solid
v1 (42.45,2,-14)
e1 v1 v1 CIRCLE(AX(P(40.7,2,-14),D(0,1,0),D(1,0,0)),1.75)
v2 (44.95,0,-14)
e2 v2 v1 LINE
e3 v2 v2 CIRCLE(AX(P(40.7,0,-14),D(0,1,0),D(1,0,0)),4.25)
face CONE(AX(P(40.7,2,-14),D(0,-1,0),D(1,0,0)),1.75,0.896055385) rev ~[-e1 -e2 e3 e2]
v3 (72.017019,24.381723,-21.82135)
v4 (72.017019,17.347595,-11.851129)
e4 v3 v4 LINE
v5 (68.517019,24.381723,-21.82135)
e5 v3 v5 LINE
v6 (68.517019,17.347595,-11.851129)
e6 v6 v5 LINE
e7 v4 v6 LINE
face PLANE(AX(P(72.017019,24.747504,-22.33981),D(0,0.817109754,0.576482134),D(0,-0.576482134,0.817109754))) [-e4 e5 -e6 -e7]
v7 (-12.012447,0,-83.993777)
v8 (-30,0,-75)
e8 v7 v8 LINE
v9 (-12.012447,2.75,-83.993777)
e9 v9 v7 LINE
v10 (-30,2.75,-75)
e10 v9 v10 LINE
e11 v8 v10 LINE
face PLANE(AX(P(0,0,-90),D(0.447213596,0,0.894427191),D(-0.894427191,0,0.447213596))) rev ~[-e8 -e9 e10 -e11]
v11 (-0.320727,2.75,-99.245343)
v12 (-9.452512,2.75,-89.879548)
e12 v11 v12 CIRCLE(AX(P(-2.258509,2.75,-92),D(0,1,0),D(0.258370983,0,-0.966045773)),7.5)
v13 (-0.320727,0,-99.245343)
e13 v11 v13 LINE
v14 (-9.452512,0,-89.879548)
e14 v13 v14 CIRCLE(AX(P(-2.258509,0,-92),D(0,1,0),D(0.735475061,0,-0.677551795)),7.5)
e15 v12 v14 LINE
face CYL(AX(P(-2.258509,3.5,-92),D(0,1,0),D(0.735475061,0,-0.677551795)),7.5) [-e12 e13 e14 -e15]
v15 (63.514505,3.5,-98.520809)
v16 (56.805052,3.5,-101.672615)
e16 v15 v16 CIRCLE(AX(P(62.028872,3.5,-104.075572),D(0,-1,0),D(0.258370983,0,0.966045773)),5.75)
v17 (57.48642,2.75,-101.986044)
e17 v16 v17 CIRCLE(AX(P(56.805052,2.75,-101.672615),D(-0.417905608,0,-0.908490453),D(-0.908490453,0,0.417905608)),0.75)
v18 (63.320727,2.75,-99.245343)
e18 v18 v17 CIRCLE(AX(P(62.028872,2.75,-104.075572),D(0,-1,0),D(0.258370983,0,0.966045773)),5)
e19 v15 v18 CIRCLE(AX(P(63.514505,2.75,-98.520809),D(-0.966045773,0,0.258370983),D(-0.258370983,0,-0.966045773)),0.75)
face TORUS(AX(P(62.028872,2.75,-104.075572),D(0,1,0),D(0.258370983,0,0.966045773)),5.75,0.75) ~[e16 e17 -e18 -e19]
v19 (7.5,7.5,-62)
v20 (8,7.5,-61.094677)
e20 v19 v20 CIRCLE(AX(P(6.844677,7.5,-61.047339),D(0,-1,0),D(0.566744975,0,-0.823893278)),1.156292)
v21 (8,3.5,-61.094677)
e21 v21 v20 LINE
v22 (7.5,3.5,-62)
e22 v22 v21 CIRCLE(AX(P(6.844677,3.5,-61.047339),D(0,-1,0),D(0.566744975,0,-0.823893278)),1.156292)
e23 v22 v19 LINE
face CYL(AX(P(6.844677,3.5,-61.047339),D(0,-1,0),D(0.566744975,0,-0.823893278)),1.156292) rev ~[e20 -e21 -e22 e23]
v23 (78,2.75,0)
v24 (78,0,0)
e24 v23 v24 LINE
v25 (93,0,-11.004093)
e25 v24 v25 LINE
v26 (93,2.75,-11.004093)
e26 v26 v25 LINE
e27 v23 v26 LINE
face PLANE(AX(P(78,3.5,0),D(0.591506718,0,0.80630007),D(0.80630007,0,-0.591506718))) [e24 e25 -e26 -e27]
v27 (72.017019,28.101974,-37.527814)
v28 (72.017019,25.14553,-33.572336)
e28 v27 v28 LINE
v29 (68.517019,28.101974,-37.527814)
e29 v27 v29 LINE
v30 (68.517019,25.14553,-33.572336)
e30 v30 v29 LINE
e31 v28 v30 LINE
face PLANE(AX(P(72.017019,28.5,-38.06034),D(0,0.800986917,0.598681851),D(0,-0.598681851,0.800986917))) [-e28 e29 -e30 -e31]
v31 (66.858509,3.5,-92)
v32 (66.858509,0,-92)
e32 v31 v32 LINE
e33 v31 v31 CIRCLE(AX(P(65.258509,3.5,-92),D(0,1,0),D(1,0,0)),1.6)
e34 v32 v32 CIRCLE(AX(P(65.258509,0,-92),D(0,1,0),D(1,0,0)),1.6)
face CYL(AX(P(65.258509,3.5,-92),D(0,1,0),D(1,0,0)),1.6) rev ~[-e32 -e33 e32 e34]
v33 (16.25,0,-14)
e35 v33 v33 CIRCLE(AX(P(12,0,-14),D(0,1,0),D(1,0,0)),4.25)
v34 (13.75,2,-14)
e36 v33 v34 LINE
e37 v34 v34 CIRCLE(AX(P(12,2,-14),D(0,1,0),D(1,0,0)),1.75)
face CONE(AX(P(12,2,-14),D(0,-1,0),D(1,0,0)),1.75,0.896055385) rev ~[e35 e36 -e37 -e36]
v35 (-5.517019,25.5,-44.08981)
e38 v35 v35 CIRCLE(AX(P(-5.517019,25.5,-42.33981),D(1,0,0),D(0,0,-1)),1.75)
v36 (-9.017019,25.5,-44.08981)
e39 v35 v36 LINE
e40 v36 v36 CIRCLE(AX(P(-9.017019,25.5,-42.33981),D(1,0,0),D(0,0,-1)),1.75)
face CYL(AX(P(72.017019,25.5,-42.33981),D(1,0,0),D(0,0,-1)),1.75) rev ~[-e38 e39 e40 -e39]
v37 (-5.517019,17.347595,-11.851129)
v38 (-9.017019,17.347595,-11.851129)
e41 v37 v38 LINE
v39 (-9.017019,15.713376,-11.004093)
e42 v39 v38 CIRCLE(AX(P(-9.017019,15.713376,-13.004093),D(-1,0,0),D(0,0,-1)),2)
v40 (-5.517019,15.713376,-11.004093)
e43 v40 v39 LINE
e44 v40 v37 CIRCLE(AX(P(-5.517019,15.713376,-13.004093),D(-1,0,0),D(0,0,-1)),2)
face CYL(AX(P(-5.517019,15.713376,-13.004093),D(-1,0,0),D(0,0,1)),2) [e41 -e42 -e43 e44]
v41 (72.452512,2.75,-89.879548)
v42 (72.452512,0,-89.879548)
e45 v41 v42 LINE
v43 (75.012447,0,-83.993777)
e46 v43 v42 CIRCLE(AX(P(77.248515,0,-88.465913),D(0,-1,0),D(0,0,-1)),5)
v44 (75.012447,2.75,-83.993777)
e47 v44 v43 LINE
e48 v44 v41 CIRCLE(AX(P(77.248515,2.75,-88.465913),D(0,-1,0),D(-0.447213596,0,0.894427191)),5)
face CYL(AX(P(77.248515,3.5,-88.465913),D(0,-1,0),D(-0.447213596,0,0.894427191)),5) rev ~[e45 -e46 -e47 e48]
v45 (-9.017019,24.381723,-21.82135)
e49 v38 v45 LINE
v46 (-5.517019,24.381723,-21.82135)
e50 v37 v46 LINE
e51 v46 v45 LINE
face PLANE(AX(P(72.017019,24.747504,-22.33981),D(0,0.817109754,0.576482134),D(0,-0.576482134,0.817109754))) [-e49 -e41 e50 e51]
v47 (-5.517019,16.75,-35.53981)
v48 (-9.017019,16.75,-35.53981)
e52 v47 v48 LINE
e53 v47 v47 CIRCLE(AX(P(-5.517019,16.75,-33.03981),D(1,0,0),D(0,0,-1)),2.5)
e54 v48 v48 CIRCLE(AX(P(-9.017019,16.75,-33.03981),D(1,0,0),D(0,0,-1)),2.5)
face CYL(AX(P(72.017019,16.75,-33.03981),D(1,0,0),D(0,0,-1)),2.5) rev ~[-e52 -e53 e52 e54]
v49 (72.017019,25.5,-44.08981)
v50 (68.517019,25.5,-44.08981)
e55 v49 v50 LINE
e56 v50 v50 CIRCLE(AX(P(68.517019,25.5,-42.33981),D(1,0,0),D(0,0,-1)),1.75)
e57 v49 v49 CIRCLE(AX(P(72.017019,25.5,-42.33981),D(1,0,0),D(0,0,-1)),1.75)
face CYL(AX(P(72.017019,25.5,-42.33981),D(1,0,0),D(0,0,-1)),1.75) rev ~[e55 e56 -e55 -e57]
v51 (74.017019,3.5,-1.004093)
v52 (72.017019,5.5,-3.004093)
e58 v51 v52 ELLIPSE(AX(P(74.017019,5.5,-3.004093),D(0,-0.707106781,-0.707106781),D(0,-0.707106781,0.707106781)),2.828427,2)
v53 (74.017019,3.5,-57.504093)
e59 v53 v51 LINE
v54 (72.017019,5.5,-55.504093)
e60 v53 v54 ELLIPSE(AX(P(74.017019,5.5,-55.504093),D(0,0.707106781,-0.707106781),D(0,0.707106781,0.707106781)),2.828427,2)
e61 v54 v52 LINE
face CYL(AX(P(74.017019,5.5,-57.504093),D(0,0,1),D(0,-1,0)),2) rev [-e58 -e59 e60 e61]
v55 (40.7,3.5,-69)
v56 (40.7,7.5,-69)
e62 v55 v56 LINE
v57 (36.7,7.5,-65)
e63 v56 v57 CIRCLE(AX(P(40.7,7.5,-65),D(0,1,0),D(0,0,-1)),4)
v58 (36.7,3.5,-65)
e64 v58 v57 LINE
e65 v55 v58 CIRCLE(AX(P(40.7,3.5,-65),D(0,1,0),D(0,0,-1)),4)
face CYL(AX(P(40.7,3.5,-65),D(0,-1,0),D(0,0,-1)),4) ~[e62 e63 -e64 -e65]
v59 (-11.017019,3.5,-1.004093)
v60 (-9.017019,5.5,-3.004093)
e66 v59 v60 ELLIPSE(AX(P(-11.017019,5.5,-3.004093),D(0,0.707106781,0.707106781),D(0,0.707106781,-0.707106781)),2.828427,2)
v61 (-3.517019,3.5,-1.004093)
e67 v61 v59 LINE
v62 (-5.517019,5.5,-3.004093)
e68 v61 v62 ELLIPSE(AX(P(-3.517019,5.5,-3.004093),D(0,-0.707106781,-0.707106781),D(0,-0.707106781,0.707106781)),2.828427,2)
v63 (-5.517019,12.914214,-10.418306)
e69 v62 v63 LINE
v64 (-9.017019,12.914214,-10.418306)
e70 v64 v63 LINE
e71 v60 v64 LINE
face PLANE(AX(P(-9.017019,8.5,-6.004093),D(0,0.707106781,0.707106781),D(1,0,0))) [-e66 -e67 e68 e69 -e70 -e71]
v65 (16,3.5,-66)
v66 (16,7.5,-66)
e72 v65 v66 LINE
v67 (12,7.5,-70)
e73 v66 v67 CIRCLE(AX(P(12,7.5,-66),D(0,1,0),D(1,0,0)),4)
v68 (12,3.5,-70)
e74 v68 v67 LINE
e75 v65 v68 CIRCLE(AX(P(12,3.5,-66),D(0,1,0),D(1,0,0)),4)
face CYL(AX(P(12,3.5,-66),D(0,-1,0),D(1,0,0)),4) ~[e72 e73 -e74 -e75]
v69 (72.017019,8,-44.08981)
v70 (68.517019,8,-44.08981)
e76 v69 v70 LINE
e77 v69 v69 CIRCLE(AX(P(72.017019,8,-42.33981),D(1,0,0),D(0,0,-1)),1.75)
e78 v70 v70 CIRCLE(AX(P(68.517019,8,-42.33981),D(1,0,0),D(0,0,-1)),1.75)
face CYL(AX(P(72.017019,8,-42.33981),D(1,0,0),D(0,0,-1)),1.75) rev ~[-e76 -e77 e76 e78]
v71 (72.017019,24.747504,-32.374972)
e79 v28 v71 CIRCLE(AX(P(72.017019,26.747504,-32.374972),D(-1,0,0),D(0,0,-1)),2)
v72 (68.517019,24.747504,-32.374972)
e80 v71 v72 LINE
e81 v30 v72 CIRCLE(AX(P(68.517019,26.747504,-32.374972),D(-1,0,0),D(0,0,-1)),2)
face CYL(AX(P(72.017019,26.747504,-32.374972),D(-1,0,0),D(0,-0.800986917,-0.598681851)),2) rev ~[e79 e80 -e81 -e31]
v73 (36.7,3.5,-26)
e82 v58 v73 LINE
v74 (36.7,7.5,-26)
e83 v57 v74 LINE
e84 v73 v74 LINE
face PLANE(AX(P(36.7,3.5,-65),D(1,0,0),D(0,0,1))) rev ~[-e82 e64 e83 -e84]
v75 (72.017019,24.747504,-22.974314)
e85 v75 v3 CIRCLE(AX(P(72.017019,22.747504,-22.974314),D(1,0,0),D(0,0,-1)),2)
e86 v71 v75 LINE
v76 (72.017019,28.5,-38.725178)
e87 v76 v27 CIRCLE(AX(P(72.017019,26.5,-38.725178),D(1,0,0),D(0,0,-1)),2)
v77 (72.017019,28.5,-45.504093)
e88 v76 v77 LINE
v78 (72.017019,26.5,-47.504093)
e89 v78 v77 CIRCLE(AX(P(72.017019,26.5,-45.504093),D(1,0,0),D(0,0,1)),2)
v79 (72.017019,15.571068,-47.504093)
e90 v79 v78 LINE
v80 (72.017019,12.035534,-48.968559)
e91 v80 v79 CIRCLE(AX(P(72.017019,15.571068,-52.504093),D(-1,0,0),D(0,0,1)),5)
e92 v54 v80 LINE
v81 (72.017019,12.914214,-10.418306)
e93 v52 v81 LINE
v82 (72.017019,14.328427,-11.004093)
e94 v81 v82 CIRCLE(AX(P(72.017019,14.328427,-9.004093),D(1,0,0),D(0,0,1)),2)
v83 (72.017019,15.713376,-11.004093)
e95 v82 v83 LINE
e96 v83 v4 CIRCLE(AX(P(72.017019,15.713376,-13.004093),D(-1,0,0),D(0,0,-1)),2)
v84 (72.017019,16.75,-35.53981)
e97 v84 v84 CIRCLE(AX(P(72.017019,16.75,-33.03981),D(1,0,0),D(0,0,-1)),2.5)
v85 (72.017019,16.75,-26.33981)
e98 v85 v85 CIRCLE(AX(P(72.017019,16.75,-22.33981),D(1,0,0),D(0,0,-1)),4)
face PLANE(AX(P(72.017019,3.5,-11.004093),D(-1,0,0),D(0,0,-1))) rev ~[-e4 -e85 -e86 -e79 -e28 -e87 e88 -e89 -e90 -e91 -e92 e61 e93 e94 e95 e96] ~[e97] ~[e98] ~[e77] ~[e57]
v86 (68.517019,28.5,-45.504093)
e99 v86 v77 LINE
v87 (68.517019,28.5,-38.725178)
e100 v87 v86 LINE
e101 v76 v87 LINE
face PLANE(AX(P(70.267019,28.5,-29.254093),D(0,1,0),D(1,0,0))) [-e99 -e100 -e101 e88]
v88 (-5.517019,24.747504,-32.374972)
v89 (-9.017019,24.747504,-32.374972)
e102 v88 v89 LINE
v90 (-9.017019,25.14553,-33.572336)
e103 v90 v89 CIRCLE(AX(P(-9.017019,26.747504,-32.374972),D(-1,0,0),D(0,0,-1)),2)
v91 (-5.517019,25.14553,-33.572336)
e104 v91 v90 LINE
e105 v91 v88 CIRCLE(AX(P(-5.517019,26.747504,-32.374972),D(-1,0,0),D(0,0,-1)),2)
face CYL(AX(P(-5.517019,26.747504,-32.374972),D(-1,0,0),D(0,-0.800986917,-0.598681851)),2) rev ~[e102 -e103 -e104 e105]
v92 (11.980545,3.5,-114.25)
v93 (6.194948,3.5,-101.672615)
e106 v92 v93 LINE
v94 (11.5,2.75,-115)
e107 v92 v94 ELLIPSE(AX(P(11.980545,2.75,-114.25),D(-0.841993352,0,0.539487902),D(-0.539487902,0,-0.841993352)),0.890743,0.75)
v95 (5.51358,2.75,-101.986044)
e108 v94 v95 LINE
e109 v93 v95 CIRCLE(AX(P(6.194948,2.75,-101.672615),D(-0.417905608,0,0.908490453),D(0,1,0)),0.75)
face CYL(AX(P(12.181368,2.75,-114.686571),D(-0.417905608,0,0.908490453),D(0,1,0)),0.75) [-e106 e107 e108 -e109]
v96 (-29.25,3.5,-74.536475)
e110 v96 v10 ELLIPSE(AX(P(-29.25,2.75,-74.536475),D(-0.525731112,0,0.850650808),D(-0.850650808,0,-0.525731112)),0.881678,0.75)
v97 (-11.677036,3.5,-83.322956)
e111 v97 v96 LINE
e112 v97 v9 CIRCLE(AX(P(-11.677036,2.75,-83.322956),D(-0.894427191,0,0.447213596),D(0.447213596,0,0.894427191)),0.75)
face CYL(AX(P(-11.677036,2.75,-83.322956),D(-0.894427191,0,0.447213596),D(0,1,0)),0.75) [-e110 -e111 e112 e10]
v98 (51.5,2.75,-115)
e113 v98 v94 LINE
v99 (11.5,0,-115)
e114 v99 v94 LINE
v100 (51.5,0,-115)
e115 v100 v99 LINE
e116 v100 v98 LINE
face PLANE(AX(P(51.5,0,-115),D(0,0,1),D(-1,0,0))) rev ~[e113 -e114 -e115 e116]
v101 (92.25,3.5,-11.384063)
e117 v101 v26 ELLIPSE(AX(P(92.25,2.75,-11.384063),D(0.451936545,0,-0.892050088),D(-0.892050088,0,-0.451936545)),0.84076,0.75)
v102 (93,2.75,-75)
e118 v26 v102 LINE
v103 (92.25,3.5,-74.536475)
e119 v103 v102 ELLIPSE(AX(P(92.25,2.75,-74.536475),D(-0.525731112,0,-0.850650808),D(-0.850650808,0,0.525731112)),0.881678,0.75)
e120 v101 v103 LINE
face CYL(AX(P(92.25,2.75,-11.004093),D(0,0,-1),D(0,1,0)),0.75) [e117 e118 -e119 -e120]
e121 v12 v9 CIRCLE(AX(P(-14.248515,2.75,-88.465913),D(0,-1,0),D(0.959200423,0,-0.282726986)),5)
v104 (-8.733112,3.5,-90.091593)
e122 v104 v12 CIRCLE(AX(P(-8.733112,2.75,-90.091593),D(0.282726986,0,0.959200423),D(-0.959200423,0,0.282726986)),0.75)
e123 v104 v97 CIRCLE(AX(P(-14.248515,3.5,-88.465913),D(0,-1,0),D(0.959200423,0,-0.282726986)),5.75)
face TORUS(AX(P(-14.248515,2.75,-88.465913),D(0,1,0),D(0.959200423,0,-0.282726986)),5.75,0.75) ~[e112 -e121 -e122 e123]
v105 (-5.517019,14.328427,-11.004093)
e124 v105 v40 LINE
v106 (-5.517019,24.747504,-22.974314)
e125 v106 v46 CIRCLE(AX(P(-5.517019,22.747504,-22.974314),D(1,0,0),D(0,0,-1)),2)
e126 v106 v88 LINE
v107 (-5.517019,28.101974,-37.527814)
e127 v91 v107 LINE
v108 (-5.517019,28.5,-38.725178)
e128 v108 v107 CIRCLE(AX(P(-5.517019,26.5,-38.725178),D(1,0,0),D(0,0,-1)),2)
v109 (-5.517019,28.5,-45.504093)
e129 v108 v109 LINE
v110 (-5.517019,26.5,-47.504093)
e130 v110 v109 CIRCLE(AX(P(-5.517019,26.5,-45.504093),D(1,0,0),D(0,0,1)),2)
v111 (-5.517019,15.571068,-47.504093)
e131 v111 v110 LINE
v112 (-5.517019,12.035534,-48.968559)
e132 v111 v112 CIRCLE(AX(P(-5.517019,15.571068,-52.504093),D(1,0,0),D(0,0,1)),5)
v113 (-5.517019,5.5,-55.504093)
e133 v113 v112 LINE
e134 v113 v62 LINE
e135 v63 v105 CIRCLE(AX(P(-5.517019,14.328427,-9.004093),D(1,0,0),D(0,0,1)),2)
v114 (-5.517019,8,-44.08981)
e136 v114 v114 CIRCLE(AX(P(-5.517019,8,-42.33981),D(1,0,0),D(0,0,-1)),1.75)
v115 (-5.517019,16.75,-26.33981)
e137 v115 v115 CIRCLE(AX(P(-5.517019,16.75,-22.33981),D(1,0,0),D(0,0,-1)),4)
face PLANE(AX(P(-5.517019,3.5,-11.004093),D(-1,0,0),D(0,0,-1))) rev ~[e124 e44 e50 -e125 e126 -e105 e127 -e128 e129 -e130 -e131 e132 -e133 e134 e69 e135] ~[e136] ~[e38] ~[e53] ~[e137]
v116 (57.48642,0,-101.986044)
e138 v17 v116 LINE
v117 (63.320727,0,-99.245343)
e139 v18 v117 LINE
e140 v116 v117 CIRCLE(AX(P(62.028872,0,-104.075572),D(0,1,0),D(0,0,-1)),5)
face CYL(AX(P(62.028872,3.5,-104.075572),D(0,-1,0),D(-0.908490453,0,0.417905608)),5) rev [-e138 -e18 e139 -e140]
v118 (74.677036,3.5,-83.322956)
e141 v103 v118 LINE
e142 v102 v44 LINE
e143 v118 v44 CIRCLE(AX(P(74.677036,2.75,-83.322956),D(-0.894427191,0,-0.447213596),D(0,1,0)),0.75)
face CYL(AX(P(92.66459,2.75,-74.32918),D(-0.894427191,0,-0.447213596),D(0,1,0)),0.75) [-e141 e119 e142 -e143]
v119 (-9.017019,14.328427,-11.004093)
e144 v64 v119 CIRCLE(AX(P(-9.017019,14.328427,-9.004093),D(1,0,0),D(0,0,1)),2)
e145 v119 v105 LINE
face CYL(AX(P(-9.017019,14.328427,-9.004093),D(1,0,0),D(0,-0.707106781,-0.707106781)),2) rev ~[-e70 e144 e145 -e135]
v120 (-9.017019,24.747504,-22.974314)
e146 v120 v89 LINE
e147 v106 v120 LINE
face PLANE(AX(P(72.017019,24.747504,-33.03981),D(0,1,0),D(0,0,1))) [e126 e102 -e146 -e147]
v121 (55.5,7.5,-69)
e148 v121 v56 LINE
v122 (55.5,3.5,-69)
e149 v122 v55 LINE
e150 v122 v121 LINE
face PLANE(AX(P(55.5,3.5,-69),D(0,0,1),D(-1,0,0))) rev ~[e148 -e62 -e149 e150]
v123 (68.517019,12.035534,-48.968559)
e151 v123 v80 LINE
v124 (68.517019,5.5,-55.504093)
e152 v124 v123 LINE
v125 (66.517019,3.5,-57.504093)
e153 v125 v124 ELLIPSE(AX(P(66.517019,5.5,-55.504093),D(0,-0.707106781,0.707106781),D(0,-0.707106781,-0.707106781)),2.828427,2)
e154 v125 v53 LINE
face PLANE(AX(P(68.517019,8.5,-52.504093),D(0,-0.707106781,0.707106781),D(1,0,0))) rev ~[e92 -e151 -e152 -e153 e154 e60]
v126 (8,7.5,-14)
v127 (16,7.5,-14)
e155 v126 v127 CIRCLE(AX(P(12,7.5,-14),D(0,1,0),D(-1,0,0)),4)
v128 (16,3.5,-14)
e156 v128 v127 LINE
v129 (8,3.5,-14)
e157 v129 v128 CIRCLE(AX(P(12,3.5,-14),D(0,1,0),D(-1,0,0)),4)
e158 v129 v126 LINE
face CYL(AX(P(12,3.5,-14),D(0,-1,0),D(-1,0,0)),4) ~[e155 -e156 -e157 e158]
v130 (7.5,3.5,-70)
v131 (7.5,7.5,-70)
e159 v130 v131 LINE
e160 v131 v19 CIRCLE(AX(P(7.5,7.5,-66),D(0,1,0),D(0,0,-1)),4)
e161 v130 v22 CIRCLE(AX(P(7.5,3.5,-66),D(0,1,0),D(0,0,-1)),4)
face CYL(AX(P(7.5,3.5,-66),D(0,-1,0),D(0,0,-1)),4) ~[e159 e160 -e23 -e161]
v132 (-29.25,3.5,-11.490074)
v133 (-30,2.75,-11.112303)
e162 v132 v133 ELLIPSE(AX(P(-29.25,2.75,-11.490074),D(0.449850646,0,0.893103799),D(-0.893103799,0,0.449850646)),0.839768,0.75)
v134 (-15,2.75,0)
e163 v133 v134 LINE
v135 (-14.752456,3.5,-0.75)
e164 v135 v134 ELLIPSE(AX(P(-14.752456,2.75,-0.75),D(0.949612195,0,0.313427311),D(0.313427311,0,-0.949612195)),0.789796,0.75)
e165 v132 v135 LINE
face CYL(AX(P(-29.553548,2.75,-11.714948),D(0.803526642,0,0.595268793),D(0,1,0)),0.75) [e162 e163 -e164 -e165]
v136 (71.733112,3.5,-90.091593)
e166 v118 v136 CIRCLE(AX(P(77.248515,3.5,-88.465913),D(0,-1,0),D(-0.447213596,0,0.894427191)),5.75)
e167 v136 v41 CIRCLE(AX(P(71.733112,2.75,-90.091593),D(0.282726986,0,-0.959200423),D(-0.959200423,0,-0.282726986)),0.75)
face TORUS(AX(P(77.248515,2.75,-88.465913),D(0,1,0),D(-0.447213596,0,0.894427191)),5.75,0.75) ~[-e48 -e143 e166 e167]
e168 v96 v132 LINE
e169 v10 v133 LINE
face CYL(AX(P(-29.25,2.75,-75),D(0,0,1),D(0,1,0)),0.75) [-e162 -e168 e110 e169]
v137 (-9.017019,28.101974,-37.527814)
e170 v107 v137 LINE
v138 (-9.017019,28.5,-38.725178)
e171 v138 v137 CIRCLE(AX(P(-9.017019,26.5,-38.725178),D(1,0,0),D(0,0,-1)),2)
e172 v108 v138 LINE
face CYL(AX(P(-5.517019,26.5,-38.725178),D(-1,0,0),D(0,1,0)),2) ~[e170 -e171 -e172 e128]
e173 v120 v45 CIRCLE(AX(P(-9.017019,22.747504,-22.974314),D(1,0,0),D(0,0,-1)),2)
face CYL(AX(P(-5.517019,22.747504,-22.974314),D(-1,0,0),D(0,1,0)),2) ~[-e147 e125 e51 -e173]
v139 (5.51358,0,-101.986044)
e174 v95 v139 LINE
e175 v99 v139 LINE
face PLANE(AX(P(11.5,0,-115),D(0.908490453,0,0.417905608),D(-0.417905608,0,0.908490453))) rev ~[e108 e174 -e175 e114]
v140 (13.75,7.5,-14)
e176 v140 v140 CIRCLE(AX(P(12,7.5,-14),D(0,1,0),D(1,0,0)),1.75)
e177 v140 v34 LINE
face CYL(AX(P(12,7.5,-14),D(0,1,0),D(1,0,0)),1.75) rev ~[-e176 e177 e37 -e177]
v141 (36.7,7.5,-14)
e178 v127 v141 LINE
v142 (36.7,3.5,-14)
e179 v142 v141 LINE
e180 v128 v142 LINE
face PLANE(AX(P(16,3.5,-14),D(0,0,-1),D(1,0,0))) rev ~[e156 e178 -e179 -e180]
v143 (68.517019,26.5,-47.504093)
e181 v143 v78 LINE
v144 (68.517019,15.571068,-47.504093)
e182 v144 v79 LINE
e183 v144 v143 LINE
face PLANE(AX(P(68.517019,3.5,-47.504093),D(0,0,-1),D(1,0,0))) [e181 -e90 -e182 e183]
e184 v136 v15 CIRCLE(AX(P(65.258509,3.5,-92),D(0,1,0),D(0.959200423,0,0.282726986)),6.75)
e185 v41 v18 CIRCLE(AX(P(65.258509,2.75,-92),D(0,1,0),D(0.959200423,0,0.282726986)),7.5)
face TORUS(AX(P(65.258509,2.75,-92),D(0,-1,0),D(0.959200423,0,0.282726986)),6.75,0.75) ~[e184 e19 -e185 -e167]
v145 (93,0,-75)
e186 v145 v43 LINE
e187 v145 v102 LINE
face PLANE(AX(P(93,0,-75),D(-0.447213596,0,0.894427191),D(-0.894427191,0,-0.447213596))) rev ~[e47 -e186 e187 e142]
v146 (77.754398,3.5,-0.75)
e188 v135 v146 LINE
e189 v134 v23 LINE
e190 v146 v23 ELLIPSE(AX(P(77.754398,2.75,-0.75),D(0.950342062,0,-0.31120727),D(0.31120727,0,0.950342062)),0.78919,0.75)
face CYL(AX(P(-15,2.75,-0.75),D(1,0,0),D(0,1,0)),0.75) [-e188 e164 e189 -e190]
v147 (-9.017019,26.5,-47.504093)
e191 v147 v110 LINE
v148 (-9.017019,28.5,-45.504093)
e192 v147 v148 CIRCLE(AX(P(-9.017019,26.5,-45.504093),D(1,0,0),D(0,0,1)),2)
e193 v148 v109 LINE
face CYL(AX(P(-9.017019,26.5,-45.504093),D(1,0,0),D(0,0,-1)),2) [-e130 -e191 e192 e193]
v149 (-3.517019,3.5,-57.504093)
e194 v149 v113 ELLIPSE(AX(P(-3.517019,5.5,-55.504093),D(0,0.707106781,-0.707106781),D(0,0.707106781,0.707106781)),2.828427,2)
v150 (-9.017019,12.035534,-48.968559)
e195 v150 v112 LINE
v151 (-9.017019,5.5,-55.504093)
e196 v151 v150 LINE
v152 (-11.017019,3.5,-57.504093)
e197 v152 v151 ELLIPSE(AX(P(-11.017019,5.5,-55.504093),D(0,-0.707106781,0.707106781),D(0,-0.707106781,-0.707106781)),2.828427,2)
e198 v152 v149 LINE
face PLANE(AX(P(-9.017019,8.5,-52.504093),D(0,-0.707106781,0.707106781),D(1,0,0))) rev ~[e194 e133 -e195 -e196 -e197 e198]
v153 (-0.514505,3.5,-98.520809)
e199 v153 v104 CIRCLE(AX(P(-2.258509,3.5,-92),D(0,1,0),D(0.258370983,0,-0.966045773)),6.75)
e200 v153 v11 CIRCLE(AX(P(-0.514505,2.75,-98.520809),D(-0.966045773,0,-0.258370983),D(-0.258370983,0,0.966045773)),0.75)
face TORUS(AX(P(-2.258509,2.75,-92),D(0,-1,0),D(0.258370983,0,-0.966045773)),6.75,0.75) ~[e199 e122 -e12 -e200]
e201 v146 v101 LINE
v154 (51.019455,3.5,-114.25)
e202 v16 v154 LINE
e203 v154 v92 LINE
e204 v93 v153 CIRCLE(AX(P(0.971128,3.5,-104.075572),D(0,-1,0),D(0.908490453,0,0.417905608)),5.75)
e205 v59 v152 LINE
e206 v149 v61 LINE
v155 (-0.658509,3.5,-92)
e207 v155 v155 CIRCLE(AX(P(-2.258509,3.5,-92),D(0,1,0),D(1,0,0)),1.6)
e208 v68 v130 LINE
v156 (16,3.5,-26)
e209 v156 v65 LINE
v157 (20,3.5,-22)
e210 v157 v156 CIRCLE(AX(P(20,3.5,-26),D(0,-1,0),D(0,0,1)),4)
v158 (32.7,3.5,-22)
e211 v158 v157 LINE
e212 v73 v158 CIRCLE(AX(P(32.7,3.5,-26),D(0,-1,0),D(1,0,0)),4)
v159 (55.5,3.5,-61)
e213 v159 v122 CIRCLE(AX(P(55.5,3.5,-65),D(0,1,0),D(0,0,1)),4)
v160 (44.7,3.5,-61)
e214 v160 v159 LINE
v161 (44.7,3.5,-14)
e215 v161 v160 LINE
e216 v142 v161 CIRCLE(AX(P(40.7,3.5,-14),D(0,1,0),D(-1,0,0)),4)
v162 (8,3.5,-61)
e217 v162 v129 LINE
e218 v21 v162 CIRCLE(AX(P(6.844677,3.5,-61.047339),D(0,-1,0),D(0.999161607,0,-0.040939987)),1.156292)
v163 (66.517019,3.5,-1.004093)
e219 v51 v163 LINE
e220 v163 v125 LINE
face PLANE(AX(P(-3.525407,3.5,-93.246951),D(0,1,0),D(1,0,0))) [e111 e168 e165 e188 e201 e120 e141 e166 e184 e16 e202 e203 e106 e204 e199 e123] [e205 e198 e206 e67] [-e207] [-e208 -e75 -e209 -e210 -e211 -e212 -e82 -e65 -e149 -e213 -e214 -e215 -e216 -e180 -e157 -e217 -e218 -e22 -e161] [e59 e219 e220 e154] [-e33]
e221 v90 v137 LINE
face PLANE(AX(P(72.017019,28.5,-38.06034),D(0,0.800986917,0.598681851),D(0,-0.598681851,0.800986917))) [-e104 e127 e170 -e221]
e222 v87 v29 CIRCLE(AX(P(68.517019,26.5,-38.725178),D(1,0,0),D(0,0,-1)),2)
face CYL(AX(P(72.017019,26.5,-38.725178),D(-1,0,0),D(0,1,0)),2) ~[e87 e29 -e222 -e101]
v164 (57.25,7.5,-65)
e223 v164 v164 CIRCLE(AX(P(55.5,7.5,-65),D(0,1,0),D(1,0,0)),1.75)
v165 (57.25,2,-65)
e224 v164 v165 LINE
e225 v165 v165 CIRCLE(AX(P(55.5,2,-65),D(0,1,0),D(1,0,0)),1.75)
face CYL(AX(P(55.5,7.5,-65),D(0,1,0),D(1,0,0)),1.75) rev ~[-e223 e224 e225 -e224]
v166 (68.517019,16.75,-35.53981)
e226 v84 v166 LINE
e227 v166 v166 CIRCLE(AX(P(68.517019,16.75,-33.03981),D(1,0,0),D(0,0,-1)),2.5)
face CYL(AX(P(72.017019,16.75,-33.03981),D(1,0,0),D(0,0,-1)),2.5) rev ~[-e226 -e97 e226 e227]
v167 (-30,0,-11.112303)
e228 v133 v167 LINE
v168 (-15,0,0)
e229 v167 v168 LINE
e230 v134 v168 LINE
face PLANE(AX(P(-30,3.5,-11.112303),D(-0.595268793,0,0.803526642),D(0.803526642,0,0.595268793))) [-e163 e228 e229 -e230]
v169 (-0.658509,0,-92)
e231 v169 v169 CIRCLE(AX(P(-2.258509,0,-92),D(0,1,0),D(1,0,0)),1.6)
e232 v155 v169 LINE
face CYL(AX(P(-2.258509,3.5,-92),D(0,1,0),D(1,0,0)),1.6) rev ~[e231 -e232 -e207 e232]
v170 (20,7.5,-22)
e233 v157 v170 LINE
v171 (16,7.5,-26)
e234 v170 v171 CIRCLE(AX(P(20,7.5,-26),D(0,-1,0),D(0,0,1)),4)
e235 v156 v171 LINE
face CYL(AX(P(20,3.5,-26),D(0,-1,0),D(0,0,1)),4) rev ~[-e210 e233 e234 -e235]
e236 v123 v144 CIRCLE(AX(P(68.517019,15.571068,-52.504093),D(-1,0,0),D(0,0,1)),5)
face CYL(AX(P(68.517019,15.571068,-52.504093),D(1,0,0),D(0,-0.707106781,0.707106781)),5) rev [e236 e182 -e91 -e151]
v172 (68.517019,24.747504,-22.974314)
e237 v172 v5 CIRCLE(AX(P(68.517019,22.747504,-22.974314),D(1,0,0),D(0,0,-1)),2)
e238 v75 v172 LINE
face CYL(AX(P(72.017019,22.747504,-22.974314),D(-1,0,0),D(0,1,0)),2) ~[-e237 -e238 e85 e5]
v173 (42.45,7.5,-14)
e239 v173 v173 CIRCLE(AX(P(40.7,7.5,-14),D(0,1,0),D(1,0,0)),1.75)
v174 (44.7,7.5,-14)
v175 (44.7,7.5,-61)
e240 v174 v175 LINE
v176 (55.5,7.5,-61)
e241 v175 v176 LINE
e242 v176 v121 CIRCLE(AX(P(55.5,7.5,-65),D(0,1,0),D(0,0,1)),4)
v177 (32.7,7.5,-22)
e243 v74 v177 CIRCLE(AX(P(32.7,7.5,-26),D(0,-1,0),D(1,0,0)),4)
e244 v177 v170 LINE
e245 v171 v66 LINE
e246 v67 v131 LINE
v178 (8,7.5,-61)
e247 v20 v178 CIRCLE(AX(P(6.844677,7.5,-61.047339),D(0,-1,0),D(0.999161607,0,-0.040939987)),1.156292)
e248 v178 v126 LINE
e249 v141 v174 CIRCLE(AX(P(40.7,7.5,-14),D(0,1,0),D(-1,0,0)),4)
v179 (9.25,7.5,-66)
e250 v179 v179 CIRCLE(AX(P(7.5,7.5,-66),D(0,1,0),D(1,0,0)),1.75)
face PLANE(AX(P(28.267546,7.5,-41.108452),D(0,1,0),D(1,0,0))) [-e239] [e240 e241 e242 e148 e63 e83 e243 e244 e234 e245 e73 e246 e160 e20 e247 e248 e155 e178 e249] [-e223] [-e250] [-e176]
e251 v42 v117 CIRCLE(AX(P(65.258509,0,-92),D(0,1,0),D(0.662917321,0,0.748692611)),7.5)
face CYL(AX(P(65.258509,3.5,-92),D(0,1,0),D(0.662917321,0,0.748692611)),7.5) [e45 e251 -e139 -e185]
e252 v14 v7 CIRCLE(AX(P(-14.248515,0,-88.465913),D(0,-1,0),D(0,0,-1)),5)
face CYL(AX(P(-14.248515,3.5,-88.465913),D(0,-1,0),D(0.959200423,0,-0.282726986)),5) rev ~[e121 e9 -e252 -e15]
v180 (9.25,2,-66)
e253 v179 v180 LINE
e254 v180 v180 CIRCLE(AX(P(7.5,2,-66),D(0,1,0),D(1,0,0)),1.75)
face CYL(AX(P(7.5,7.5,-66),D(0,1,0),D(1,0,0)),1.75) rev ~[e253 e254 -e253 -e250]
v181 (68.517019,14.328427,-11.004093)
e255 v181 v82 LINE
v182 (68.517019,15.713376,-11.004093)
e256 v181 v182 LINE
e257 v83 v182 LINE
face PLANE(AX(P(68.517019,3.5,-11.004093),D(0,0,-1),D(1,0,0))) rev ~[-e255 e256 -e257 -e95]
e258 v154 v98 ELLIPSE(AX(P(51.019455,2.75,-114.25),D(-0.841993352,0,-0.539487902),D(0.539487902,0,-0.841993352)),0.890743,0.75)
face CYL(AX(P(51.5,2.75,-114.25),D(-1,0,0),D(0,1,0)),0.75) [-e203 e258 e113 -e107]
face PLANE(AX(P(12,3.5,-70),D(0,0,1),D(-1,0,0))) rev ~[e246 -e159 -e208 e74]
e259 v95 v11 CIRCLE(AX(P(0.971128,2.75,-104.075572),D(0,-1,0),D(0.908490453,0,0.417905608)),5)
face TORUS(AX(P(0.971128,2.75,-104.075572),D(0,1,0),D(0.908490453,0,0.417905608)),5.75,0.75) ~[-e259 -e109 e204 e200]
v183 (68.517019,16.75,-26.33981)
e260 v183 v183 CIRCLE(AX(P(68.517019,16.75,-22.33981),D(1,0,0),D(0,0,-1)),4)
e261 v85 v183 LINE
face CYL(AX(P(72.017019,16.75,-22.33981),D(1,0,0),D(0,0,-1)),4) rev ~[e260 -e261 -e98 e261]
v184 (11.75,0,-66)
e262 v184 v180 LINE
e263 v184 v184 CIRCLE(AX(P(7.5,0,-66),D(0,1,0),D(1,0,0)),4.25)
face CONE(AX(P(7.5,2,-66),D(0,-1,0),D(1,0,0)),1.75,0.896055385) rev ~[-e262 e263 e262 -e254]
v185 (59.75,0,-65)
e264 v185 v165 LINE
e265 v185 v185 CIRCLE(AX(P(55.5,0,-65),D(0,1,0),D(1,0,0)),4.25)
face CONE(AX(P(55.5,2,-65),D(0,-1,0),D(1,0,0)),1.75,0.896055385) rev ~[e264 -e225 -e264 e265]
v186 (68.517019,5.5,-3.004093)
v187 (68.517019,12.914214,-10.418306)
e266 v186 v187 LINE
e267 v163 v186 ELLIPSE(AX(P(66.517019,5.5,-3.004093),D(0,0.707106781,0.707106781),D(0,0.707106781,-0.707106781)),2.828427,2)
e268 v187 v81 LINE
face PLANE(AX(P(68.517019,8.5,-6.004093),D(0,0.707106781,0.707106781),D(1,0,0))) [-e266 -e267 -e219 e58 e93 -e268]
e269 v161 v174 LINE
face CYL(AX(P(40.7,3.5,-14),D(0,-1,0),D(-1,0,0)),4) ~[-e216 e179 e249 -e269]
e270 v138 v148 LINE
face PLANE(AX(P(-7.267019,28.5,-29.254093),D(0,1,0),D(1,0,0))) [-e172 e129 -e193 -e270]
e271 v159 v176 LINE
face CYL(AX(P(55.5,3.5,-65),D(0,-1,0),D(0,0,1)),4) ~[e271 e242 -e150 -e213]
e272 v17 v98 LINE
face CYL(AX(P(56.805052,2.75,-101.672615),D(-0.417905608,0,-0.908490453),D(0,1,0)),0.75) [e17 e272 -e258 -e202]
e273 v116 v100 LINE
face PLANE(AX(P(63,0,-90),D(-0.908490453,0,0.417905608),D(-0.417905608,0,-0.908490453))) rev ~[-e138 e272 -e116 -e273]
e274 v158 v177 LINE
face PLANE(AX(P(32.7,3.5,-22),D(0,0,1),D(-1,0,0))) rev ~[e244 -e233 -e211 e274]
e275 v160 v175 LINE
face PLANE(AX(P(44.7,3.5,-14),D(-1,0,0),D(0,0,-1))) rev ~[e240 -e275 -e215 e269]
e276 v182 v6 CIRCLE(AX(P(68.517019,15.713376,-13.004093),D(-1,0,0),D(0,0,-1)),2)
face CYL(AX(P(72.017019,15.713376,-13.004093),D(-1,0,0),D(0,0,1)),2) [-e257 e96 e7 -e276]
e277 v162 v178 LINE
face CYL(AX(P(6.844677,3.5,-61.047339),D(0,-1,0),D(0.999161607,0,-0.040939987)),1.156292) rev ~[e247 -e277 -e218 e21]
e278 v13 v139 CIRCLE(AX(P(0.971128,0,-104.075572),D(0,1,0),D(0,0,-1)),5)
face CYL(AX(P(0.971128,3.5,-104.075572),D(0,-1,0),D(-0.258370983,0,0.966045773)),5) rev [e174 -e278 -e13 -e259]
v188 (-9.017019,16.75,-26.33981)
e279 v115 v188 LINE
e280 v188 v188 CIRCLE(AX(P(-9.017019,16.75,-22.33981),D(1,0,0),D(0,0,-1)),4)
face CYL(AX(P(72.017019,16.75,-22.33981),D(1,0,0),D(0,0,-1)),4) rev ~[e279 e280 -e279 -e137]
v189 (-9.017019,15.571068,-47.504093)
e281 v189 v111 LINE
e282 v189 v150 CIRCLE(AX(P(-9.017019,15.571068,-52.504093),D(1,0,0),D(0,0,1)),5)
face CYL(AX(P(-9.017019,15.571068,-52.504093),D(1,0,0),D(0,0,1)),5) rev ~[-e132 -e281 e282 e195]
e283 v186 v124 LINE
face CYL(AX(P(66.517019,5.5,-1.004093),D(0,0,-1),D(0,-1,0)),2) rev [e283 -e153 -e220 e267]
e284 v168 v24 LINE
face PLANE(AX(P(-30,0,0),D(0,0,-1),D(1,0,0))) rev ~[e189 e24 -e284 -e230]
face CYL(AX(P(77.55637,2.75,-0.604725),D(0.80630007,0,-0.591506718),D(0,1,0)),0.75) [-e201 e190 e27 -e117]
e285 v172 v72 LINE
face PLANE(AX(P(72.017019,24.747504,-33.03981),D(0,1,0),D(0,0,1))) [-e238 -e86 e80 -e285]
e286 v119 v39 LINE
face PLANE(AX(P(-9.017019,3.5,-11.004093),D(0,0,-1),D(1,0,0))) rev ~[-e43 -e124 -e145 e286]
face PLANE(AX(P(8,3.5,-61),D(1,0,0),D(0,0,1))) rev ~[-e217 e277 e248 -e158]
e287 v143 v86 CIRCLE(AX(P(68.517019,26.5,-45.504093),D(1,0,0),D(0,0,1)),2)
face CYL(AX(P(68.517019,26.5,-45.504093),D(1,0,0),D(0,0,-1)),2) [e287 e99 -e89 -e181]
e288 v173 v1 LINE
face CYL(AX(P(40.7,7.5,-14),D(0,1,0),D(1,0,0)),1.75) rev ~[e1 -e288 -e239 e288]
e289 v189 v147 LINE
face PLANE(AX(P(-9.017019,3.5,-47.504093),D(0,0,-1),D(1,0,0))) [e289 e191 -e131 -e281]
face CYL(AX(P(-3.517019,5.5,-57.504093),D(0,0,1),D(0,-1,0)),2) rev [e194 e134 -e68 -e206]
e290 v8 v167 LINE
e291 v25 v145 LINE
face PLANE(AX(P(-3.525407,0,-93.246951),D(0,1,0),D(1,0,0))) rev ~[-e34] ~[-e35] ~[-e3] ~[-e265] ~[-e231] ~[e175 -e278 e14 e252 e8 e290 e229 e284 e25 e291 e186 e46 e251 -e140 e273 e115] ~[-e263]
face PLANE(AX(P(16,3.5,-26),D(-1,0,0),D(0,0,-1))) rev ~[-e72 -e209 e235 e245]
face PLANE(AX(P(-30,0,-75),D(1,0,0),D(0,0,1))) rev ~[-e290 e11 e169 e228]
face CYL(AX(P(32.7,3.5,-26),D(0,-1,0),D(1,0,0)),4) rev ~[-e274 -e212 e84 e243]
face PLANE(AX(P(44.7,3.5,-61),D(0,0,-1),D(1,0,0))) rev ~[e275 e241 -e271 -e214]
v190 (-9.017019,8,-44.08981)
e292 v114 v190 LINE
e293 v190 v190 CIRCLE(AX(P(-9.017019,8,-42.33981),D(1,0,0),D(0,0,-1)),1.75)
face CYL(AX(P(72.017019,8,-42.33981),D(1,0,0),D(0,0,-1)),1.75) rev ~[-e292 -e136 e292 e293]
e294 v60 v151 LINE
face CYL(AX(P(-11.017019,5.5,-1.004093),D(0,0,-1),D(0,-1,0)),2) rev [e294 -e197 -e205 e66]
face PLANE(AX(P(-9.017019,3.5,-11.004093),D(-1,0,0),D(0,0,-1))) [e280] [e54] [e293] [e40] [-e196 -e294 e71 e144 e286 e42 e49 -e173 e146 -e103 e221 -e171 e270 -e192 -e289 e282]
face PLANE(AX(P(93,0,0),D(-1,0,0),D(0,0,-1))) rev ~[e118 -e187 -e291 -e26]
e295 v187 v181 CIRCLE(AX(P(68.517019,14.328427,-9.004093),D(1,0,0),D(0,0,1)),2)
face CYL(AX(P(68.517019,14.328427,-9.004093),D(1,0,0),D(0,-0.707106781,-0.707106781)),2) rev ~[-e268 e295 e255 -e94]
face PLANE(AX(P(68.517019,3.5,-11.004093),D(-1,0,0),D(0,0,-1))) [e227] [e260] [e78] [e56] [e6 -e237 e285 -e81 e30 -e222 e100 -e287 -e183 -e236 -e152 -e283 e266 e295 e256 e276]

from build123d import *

# Parameters (mm, degrees)
BOSS_EXTRUDE1_DEPTH = 3.5
SKETCH2_W           = 3.5
SKETCH2_H           = 36.5
BOSS_EXTRUDE2_DEPTH = 25
CHAMFER1_SIZE       = 10
FILLET1_R           = 2
SKETCH3_R           = 1.75
CUT_EXTRUDE1_DEPTH  = 108
FILLET2_R           = 2
SKETCH4_R           = 4
SKETCH4_R_2         = 2.5
CUT_EXTRUDE2_DEPTH  = 108
CUT_EXTRUDE3_DEPTH  = 108
FILLET3_R           = 2
FILLET4_R           = 5
SKETCH6_R           = 1.75
BOSS_EXTRUDE3_DEPTH = 4
SKETCH7_R           = 1.75
CUT_EXTRUDE4_DEPTH  = 37
CHAMFER2_SIZE       = 2.5
CHAMFER2_SIZE2      = 2
CUT_EXTRUDE5_DEPTH  = 37
SKETCH9_R           = 1.6
BOSS_EXTRUDE4_DEPTH = 3.5
FILLET5_R           = 5
FILLET6_R           = 0.75


with BuildPart() as part:
    # Sketch1 → Boss-Extrude1 (new body)
    with BuildSketch(Plane(origin=(0, 0, 0), x_dir=(1, 0, 0), z_dir=(0, 1, 0))):
        Polygon((0, 0), (63, 0), (93, 0), (93, 75), (63, 90), (51.5, 115), (31.5, 115), (11.5, 115), (0, 90), (-30, 75), (-30, 0), align=None)
    extrude(amount=BOSS_EXTRUDE1_DEPTH)

    # Sketch2 → Boss-Extrude2 (add)
    with BuildSketch(Plane(origin=(0, 3.5, 0), x_dir=(1, 0, 0), z_dir=(0, 1, 0))):
        with Locations((-7.267018522, 29.254092769)):
            Rectangle(SKETCH2_W, SKETCH2_H)
        with Locations((70.267018522, 29.254092769)):
            Rectangle(SKETCH2_W, SKETCH2_H)
    extrude(amount=BOSS_EXTRUDE2_DEPTH)

    # Chamfer1
    chamfer1_edges = [part.edges().sort_by_distance(p)[0] for p in [
        (-7.267018522, 3.5, -11.004092769),
        (-7.267018522, 3.5, -47.504092769),
        (70.267018522, 3.5, -11.004092769),
        (70.267018522, 3.5, -47.504092769),
    ]]
    chamfer(chamfer1_edges, length=CHAMFER1_SIZE)

    # Fillet1
    fillet1_edges = [part.edges().sort_by_distance(p)[0] for p in [
        (-5.517018522, 3.5, -29.254092769),
        (68.517018522, 3.5, -29.254092769),
    ]]
    fillet(fillet1_edges, radius=FILLET1_R)

    # Sketch3 → Cut-Extrude1 (cut)
    with BuildSketch(Plane(origin=(72.017018522, 0, 0), x_dir=(0, 0, -1), z_dir=(1, 0, 0))):
        with Locations((42.33980963, 25.5)):
            Circle(SKETCH3_R)
        with Locations((42.33980963, 8)):
            Circle(SKETCH3_R)
    extrude(amount=-CUT_EXTRUDE1_DEPTH, mode=Mode.SUBTRACT)

    # Fillet2
    fillet2_edges = [part.edges().sort_by_distance(p)[0] for p in [
        (-9.017018522, 3.5, -29.254092769),
        (72.017018522, 3.5, -29.254092769),
    ]]
    fillet(fillet2_edges, radius=FILLET2_R)

    # Sketch4 → Cut-Extrude2 (cut)
    with BuildSketch(Plane(origin=(72.017018522, 0, 0), x_dir=(0, 0, -1), z_dir=(1, 0, 0))):
        with Locations((22.33980963, 16.75)):
            Circle(SKETCH4_R)
        with Locations((33.03980963, 16.75)):
            Circle(SKETCH4_R_2)
    extrude(amount=-CUT_EXTRUDE2_DEPTH, mode=Mode.SUBTRACT)

    # Sketch5 → Cut-Extrude3 (cut)
    with BuildSketch(Plane(origin=(72.017018522, 0, 0), x_dir=(0, 0, -1), z_dir=(1, 0, 0))):
        Polygon((22.33980963, 24.747503661), (11.004092769, 16.75), (11.004092769, 28.5), (38.0603401, 28.5), (33.03980963, 24.747503661), align=None)
    extrude(amount=-CUT_EXTRUDE3_DEPTH, mode=Mode.SUBTRACT)

    # Fillet3
    fillet3_edges = [part.edges().sort_by_distance(p)[0] for p in [
        (70.267018522, 28.5, -38.0603401),
        (-7.267018522, 24.747503661, -33.03980963),
        (70.267018522, 24.747503661, -33.03980963),
        (-7.267018522, 24.747503661, -22.33980963),
        (70.267018522, 24.747503661, -22.33980963),
        (-7.267018522, 28.5, -38.0603401),
        (-7.267018522, 16.75, -11.004092769),
        (70.267018522, 16.75, -11.004092769),
        (-7.267018522, 28.5, -47.504092769),
        (70.267018522, 28.5, -47.504092769),
        (-7.267018522, 13.5, -11.004092769),
        (70.267018522, 13.5, -11.004092769),
    ]]
    fillet(fillet3_edges, radius=FILLET3_R)

    # Fillet4
    fillet4_edges = [part.edges().sort_by_distance(p)[0] for p in [
        (-7.267018522, 13.5, -47.504092769),
        (70.267018522, 13.5, -47.504092769),
    ]]
    fillet(fillet4_edges, radius=FILLET4_R)

    # Sketch6 → Boss-Extrude3 (add)
    with BuildSketch(Plane(origin=(0, 3.5, 0), x_dir=(1, 0, 0), z_dir=(0, 1, 0))):
        with BuildLine():
            ThreePointArc((8, 14), (12, 10), (16, 14))
            Line((16, 14), (36.7, 14))
            ThreePointArc((36.7, 14), (40.7, 10), (44.7, 14))
            Line((44.7, 14), (44.7, 61))
            Line((44.7, 61), (55.5, 61))
            ThreePointArc((55.5, 61), (59.5, 65), (55.5, 69))
            Line((55.5, 69), (40.7, 69))
            ThreePointArc((40.7, 69), (37.871572875, 67.828427125), (36.7, 65))
            Line((36.7, 65), (36.7, 26))
            ThreePointArc((36.7, 26), (35.528427125, 23.171572875), (32.7, 22))
            Line((32.7, 22), (20, 22))
            ThreePointArc((20, 22), (17.171572875, 23.171572875), (16, 26))
            Line((16, 26), (16, 66))
            ThreePointArc((16, 66), (14.828427125, 68.828427125), (12, 70))
            Line((12, 70), (7.5, 70))
            ThreePointArc((7.5, 70), (3.5, 66), (7.5, 62))
            ThreePointArc((7.5, 62), (7.856858863, 61.606355585), (8, 61.09467718))
            ThreePointArc((8, 61.09467718), (8.000969427, 61.04733859), (8, 61))
            Line((8, 61), (8, 14))
        make_face()
        with Locations((12, 14)):
            Circle(SKETCH6_R, mode=Mode.SUBTRACT)
        with Locations((40.7, 14)):
            Circle(SKETCH6_R, mode=Mode.SUBTRACT)
        with Locations((7.5, 66)):
            Circle(SKETCH6_R, mode=Mode.SUBTRACT)
        with Locations((55.5, 65)):
            Circle(SKETCH6_R, mode=Mode.SUBTRACT)
    extrude(amount=BOSS_EXTRUDE3_DEPTH)

    # Sketch7 → Cut-Extrude4 (cut)
    with BuildSketch(Plane(origin=(0, 7.5, 0), x_dir=(1, 0, 0), z_dir=(0, 1, 0))):
        with Locations((7.5, 66)):
            Circle(SKETCH7_R)
        with Locations((55.5, 65)):
            Circle(SKETCH7_R)
        with Locations((40.7, 14)):
            Circle(SKETCH7_R)
        with Locations((12, 14)):
            Circle(SKETCH7_R)
    extrude(amount=-CUT_EXTRUDE4_DEPTH, mode=Mode.SUBTRACT)

    # Chamfer2
    chamfer2_edges = [part.edges().sort_by_distance(p)[0] for p in [
        (5.75, 0, -66),
        (53.75, 0, -65),
        (38.95, 0, -14),
        (10.25, 0, -14),
    ]]
    chamfer2_side = [part.faces().sort_by_distance(p)[0] for p in [
        (31.50834927, 0, -49.636894868),
    ]]
    chamfer(chamfer2_edges, length=CHAMFER2_SIZE, length2=CHAMFER2_SIZE2, reference=chamfer2_side[0])

    # Sketch8 → Cut-Extrude5 (cut)
    with BuildSketch(Plane(origin=(0, 3.5, 0), x_dir=(1, 0, 0), z_dir=(0, 1, 0))):
        Polygon((-30, 11.112303486), (-15, 0), (-30, 0), align=None)
        Polygon((78, 0), (93, 11.004092769), (93, 0), align=None)
    extrude(amount=-CUT_EXTRUDE5_DEPTH, mode=Mode.SUBTRACT)

    # Sketch9 → Boss-Extrude4 (add)
    with BuildSketch(Plane(origin=(0, 3.5, 0), x_dir=(1, 0, 0), z_dir=(0, 1, 0))):
        with BuildLine():
            Line((-7.230389166, 86.384805417), (0, 90))
            Line((0, 90), (3.257553694, 97.081638464))
            ThreePointArc((3.257553694, 97.081638464), (-7.613842407, 97.250752983), (-7.230389166, 86.384805417))
        make_face()
        with Locations((-2.258509261, 92)):
            Circle(SKETCH9_R, mode=Mode.SUBTRACT)
        with BuildLine():
            Line((59.742446306, 97.081638464), (63, 90))
            Line((63, 90), (70.230389166, 86.384805417))
            ThreePointArc((70.230389166, 86.384805417), (70.613842407, 97.250752983), (59.742446306, 97.081638464))
        make_face()
        with Locations((65.258509261, 92)):
            Circle(SKETCH9_R, mode=Mode.SUBTRACT)
    extrude(amount=-BOSS_EXTRUDE4_DEPTH)

    # Fillet5
    fillet5_edges = [part.edges().sort_by_distance(p)[0] for p in [
        (3.257553694, 1.75, -97.081638464),
        (-7.230389166, 1.75, -86.384805417),
        (70.230389166, 1.75, -86.384805417),
        (59.742446306, 1.75, -97.081638464),
    ]]
    fillet(fillet5_edges, radius=FILLET5_R)

    # Fillet6
    fillet6_edges = [part.edges().sort_by_distance(p)[0] for p in [
        (84.006223284, 3.5, -79.496888358),
        (31.5, 3.5, -115),
        (8.506790147, 3.5, -108.493022059),
        (-30, 3.5, -43.056151743),
        (31.5, 3.5, 0),
        (-22.5, 3.5, -5.556151743),
        (93, 3.5, -43.002046385),
        (85.5, 3.5, -5.502046385),
        (70.628471691, 3.5, -97.235790627),
        (54.493209853, 3.5, -108.493022059),
        (-7.628471691, 3.5, -97.235790627),
        (-21.006223284, 3.5, -79.496888358),
        (59.902970742, 3.5, -99.550028659),
        (72.663421616, 3.5, -86.47169031),
        (3.097029258, 3.5, -99.550028659),
        (-9.663421616, 3.5, -86.47169031),
    ]]
    fillet(fillet6_edges, radius=FILLET6_R)


solid = part.part
